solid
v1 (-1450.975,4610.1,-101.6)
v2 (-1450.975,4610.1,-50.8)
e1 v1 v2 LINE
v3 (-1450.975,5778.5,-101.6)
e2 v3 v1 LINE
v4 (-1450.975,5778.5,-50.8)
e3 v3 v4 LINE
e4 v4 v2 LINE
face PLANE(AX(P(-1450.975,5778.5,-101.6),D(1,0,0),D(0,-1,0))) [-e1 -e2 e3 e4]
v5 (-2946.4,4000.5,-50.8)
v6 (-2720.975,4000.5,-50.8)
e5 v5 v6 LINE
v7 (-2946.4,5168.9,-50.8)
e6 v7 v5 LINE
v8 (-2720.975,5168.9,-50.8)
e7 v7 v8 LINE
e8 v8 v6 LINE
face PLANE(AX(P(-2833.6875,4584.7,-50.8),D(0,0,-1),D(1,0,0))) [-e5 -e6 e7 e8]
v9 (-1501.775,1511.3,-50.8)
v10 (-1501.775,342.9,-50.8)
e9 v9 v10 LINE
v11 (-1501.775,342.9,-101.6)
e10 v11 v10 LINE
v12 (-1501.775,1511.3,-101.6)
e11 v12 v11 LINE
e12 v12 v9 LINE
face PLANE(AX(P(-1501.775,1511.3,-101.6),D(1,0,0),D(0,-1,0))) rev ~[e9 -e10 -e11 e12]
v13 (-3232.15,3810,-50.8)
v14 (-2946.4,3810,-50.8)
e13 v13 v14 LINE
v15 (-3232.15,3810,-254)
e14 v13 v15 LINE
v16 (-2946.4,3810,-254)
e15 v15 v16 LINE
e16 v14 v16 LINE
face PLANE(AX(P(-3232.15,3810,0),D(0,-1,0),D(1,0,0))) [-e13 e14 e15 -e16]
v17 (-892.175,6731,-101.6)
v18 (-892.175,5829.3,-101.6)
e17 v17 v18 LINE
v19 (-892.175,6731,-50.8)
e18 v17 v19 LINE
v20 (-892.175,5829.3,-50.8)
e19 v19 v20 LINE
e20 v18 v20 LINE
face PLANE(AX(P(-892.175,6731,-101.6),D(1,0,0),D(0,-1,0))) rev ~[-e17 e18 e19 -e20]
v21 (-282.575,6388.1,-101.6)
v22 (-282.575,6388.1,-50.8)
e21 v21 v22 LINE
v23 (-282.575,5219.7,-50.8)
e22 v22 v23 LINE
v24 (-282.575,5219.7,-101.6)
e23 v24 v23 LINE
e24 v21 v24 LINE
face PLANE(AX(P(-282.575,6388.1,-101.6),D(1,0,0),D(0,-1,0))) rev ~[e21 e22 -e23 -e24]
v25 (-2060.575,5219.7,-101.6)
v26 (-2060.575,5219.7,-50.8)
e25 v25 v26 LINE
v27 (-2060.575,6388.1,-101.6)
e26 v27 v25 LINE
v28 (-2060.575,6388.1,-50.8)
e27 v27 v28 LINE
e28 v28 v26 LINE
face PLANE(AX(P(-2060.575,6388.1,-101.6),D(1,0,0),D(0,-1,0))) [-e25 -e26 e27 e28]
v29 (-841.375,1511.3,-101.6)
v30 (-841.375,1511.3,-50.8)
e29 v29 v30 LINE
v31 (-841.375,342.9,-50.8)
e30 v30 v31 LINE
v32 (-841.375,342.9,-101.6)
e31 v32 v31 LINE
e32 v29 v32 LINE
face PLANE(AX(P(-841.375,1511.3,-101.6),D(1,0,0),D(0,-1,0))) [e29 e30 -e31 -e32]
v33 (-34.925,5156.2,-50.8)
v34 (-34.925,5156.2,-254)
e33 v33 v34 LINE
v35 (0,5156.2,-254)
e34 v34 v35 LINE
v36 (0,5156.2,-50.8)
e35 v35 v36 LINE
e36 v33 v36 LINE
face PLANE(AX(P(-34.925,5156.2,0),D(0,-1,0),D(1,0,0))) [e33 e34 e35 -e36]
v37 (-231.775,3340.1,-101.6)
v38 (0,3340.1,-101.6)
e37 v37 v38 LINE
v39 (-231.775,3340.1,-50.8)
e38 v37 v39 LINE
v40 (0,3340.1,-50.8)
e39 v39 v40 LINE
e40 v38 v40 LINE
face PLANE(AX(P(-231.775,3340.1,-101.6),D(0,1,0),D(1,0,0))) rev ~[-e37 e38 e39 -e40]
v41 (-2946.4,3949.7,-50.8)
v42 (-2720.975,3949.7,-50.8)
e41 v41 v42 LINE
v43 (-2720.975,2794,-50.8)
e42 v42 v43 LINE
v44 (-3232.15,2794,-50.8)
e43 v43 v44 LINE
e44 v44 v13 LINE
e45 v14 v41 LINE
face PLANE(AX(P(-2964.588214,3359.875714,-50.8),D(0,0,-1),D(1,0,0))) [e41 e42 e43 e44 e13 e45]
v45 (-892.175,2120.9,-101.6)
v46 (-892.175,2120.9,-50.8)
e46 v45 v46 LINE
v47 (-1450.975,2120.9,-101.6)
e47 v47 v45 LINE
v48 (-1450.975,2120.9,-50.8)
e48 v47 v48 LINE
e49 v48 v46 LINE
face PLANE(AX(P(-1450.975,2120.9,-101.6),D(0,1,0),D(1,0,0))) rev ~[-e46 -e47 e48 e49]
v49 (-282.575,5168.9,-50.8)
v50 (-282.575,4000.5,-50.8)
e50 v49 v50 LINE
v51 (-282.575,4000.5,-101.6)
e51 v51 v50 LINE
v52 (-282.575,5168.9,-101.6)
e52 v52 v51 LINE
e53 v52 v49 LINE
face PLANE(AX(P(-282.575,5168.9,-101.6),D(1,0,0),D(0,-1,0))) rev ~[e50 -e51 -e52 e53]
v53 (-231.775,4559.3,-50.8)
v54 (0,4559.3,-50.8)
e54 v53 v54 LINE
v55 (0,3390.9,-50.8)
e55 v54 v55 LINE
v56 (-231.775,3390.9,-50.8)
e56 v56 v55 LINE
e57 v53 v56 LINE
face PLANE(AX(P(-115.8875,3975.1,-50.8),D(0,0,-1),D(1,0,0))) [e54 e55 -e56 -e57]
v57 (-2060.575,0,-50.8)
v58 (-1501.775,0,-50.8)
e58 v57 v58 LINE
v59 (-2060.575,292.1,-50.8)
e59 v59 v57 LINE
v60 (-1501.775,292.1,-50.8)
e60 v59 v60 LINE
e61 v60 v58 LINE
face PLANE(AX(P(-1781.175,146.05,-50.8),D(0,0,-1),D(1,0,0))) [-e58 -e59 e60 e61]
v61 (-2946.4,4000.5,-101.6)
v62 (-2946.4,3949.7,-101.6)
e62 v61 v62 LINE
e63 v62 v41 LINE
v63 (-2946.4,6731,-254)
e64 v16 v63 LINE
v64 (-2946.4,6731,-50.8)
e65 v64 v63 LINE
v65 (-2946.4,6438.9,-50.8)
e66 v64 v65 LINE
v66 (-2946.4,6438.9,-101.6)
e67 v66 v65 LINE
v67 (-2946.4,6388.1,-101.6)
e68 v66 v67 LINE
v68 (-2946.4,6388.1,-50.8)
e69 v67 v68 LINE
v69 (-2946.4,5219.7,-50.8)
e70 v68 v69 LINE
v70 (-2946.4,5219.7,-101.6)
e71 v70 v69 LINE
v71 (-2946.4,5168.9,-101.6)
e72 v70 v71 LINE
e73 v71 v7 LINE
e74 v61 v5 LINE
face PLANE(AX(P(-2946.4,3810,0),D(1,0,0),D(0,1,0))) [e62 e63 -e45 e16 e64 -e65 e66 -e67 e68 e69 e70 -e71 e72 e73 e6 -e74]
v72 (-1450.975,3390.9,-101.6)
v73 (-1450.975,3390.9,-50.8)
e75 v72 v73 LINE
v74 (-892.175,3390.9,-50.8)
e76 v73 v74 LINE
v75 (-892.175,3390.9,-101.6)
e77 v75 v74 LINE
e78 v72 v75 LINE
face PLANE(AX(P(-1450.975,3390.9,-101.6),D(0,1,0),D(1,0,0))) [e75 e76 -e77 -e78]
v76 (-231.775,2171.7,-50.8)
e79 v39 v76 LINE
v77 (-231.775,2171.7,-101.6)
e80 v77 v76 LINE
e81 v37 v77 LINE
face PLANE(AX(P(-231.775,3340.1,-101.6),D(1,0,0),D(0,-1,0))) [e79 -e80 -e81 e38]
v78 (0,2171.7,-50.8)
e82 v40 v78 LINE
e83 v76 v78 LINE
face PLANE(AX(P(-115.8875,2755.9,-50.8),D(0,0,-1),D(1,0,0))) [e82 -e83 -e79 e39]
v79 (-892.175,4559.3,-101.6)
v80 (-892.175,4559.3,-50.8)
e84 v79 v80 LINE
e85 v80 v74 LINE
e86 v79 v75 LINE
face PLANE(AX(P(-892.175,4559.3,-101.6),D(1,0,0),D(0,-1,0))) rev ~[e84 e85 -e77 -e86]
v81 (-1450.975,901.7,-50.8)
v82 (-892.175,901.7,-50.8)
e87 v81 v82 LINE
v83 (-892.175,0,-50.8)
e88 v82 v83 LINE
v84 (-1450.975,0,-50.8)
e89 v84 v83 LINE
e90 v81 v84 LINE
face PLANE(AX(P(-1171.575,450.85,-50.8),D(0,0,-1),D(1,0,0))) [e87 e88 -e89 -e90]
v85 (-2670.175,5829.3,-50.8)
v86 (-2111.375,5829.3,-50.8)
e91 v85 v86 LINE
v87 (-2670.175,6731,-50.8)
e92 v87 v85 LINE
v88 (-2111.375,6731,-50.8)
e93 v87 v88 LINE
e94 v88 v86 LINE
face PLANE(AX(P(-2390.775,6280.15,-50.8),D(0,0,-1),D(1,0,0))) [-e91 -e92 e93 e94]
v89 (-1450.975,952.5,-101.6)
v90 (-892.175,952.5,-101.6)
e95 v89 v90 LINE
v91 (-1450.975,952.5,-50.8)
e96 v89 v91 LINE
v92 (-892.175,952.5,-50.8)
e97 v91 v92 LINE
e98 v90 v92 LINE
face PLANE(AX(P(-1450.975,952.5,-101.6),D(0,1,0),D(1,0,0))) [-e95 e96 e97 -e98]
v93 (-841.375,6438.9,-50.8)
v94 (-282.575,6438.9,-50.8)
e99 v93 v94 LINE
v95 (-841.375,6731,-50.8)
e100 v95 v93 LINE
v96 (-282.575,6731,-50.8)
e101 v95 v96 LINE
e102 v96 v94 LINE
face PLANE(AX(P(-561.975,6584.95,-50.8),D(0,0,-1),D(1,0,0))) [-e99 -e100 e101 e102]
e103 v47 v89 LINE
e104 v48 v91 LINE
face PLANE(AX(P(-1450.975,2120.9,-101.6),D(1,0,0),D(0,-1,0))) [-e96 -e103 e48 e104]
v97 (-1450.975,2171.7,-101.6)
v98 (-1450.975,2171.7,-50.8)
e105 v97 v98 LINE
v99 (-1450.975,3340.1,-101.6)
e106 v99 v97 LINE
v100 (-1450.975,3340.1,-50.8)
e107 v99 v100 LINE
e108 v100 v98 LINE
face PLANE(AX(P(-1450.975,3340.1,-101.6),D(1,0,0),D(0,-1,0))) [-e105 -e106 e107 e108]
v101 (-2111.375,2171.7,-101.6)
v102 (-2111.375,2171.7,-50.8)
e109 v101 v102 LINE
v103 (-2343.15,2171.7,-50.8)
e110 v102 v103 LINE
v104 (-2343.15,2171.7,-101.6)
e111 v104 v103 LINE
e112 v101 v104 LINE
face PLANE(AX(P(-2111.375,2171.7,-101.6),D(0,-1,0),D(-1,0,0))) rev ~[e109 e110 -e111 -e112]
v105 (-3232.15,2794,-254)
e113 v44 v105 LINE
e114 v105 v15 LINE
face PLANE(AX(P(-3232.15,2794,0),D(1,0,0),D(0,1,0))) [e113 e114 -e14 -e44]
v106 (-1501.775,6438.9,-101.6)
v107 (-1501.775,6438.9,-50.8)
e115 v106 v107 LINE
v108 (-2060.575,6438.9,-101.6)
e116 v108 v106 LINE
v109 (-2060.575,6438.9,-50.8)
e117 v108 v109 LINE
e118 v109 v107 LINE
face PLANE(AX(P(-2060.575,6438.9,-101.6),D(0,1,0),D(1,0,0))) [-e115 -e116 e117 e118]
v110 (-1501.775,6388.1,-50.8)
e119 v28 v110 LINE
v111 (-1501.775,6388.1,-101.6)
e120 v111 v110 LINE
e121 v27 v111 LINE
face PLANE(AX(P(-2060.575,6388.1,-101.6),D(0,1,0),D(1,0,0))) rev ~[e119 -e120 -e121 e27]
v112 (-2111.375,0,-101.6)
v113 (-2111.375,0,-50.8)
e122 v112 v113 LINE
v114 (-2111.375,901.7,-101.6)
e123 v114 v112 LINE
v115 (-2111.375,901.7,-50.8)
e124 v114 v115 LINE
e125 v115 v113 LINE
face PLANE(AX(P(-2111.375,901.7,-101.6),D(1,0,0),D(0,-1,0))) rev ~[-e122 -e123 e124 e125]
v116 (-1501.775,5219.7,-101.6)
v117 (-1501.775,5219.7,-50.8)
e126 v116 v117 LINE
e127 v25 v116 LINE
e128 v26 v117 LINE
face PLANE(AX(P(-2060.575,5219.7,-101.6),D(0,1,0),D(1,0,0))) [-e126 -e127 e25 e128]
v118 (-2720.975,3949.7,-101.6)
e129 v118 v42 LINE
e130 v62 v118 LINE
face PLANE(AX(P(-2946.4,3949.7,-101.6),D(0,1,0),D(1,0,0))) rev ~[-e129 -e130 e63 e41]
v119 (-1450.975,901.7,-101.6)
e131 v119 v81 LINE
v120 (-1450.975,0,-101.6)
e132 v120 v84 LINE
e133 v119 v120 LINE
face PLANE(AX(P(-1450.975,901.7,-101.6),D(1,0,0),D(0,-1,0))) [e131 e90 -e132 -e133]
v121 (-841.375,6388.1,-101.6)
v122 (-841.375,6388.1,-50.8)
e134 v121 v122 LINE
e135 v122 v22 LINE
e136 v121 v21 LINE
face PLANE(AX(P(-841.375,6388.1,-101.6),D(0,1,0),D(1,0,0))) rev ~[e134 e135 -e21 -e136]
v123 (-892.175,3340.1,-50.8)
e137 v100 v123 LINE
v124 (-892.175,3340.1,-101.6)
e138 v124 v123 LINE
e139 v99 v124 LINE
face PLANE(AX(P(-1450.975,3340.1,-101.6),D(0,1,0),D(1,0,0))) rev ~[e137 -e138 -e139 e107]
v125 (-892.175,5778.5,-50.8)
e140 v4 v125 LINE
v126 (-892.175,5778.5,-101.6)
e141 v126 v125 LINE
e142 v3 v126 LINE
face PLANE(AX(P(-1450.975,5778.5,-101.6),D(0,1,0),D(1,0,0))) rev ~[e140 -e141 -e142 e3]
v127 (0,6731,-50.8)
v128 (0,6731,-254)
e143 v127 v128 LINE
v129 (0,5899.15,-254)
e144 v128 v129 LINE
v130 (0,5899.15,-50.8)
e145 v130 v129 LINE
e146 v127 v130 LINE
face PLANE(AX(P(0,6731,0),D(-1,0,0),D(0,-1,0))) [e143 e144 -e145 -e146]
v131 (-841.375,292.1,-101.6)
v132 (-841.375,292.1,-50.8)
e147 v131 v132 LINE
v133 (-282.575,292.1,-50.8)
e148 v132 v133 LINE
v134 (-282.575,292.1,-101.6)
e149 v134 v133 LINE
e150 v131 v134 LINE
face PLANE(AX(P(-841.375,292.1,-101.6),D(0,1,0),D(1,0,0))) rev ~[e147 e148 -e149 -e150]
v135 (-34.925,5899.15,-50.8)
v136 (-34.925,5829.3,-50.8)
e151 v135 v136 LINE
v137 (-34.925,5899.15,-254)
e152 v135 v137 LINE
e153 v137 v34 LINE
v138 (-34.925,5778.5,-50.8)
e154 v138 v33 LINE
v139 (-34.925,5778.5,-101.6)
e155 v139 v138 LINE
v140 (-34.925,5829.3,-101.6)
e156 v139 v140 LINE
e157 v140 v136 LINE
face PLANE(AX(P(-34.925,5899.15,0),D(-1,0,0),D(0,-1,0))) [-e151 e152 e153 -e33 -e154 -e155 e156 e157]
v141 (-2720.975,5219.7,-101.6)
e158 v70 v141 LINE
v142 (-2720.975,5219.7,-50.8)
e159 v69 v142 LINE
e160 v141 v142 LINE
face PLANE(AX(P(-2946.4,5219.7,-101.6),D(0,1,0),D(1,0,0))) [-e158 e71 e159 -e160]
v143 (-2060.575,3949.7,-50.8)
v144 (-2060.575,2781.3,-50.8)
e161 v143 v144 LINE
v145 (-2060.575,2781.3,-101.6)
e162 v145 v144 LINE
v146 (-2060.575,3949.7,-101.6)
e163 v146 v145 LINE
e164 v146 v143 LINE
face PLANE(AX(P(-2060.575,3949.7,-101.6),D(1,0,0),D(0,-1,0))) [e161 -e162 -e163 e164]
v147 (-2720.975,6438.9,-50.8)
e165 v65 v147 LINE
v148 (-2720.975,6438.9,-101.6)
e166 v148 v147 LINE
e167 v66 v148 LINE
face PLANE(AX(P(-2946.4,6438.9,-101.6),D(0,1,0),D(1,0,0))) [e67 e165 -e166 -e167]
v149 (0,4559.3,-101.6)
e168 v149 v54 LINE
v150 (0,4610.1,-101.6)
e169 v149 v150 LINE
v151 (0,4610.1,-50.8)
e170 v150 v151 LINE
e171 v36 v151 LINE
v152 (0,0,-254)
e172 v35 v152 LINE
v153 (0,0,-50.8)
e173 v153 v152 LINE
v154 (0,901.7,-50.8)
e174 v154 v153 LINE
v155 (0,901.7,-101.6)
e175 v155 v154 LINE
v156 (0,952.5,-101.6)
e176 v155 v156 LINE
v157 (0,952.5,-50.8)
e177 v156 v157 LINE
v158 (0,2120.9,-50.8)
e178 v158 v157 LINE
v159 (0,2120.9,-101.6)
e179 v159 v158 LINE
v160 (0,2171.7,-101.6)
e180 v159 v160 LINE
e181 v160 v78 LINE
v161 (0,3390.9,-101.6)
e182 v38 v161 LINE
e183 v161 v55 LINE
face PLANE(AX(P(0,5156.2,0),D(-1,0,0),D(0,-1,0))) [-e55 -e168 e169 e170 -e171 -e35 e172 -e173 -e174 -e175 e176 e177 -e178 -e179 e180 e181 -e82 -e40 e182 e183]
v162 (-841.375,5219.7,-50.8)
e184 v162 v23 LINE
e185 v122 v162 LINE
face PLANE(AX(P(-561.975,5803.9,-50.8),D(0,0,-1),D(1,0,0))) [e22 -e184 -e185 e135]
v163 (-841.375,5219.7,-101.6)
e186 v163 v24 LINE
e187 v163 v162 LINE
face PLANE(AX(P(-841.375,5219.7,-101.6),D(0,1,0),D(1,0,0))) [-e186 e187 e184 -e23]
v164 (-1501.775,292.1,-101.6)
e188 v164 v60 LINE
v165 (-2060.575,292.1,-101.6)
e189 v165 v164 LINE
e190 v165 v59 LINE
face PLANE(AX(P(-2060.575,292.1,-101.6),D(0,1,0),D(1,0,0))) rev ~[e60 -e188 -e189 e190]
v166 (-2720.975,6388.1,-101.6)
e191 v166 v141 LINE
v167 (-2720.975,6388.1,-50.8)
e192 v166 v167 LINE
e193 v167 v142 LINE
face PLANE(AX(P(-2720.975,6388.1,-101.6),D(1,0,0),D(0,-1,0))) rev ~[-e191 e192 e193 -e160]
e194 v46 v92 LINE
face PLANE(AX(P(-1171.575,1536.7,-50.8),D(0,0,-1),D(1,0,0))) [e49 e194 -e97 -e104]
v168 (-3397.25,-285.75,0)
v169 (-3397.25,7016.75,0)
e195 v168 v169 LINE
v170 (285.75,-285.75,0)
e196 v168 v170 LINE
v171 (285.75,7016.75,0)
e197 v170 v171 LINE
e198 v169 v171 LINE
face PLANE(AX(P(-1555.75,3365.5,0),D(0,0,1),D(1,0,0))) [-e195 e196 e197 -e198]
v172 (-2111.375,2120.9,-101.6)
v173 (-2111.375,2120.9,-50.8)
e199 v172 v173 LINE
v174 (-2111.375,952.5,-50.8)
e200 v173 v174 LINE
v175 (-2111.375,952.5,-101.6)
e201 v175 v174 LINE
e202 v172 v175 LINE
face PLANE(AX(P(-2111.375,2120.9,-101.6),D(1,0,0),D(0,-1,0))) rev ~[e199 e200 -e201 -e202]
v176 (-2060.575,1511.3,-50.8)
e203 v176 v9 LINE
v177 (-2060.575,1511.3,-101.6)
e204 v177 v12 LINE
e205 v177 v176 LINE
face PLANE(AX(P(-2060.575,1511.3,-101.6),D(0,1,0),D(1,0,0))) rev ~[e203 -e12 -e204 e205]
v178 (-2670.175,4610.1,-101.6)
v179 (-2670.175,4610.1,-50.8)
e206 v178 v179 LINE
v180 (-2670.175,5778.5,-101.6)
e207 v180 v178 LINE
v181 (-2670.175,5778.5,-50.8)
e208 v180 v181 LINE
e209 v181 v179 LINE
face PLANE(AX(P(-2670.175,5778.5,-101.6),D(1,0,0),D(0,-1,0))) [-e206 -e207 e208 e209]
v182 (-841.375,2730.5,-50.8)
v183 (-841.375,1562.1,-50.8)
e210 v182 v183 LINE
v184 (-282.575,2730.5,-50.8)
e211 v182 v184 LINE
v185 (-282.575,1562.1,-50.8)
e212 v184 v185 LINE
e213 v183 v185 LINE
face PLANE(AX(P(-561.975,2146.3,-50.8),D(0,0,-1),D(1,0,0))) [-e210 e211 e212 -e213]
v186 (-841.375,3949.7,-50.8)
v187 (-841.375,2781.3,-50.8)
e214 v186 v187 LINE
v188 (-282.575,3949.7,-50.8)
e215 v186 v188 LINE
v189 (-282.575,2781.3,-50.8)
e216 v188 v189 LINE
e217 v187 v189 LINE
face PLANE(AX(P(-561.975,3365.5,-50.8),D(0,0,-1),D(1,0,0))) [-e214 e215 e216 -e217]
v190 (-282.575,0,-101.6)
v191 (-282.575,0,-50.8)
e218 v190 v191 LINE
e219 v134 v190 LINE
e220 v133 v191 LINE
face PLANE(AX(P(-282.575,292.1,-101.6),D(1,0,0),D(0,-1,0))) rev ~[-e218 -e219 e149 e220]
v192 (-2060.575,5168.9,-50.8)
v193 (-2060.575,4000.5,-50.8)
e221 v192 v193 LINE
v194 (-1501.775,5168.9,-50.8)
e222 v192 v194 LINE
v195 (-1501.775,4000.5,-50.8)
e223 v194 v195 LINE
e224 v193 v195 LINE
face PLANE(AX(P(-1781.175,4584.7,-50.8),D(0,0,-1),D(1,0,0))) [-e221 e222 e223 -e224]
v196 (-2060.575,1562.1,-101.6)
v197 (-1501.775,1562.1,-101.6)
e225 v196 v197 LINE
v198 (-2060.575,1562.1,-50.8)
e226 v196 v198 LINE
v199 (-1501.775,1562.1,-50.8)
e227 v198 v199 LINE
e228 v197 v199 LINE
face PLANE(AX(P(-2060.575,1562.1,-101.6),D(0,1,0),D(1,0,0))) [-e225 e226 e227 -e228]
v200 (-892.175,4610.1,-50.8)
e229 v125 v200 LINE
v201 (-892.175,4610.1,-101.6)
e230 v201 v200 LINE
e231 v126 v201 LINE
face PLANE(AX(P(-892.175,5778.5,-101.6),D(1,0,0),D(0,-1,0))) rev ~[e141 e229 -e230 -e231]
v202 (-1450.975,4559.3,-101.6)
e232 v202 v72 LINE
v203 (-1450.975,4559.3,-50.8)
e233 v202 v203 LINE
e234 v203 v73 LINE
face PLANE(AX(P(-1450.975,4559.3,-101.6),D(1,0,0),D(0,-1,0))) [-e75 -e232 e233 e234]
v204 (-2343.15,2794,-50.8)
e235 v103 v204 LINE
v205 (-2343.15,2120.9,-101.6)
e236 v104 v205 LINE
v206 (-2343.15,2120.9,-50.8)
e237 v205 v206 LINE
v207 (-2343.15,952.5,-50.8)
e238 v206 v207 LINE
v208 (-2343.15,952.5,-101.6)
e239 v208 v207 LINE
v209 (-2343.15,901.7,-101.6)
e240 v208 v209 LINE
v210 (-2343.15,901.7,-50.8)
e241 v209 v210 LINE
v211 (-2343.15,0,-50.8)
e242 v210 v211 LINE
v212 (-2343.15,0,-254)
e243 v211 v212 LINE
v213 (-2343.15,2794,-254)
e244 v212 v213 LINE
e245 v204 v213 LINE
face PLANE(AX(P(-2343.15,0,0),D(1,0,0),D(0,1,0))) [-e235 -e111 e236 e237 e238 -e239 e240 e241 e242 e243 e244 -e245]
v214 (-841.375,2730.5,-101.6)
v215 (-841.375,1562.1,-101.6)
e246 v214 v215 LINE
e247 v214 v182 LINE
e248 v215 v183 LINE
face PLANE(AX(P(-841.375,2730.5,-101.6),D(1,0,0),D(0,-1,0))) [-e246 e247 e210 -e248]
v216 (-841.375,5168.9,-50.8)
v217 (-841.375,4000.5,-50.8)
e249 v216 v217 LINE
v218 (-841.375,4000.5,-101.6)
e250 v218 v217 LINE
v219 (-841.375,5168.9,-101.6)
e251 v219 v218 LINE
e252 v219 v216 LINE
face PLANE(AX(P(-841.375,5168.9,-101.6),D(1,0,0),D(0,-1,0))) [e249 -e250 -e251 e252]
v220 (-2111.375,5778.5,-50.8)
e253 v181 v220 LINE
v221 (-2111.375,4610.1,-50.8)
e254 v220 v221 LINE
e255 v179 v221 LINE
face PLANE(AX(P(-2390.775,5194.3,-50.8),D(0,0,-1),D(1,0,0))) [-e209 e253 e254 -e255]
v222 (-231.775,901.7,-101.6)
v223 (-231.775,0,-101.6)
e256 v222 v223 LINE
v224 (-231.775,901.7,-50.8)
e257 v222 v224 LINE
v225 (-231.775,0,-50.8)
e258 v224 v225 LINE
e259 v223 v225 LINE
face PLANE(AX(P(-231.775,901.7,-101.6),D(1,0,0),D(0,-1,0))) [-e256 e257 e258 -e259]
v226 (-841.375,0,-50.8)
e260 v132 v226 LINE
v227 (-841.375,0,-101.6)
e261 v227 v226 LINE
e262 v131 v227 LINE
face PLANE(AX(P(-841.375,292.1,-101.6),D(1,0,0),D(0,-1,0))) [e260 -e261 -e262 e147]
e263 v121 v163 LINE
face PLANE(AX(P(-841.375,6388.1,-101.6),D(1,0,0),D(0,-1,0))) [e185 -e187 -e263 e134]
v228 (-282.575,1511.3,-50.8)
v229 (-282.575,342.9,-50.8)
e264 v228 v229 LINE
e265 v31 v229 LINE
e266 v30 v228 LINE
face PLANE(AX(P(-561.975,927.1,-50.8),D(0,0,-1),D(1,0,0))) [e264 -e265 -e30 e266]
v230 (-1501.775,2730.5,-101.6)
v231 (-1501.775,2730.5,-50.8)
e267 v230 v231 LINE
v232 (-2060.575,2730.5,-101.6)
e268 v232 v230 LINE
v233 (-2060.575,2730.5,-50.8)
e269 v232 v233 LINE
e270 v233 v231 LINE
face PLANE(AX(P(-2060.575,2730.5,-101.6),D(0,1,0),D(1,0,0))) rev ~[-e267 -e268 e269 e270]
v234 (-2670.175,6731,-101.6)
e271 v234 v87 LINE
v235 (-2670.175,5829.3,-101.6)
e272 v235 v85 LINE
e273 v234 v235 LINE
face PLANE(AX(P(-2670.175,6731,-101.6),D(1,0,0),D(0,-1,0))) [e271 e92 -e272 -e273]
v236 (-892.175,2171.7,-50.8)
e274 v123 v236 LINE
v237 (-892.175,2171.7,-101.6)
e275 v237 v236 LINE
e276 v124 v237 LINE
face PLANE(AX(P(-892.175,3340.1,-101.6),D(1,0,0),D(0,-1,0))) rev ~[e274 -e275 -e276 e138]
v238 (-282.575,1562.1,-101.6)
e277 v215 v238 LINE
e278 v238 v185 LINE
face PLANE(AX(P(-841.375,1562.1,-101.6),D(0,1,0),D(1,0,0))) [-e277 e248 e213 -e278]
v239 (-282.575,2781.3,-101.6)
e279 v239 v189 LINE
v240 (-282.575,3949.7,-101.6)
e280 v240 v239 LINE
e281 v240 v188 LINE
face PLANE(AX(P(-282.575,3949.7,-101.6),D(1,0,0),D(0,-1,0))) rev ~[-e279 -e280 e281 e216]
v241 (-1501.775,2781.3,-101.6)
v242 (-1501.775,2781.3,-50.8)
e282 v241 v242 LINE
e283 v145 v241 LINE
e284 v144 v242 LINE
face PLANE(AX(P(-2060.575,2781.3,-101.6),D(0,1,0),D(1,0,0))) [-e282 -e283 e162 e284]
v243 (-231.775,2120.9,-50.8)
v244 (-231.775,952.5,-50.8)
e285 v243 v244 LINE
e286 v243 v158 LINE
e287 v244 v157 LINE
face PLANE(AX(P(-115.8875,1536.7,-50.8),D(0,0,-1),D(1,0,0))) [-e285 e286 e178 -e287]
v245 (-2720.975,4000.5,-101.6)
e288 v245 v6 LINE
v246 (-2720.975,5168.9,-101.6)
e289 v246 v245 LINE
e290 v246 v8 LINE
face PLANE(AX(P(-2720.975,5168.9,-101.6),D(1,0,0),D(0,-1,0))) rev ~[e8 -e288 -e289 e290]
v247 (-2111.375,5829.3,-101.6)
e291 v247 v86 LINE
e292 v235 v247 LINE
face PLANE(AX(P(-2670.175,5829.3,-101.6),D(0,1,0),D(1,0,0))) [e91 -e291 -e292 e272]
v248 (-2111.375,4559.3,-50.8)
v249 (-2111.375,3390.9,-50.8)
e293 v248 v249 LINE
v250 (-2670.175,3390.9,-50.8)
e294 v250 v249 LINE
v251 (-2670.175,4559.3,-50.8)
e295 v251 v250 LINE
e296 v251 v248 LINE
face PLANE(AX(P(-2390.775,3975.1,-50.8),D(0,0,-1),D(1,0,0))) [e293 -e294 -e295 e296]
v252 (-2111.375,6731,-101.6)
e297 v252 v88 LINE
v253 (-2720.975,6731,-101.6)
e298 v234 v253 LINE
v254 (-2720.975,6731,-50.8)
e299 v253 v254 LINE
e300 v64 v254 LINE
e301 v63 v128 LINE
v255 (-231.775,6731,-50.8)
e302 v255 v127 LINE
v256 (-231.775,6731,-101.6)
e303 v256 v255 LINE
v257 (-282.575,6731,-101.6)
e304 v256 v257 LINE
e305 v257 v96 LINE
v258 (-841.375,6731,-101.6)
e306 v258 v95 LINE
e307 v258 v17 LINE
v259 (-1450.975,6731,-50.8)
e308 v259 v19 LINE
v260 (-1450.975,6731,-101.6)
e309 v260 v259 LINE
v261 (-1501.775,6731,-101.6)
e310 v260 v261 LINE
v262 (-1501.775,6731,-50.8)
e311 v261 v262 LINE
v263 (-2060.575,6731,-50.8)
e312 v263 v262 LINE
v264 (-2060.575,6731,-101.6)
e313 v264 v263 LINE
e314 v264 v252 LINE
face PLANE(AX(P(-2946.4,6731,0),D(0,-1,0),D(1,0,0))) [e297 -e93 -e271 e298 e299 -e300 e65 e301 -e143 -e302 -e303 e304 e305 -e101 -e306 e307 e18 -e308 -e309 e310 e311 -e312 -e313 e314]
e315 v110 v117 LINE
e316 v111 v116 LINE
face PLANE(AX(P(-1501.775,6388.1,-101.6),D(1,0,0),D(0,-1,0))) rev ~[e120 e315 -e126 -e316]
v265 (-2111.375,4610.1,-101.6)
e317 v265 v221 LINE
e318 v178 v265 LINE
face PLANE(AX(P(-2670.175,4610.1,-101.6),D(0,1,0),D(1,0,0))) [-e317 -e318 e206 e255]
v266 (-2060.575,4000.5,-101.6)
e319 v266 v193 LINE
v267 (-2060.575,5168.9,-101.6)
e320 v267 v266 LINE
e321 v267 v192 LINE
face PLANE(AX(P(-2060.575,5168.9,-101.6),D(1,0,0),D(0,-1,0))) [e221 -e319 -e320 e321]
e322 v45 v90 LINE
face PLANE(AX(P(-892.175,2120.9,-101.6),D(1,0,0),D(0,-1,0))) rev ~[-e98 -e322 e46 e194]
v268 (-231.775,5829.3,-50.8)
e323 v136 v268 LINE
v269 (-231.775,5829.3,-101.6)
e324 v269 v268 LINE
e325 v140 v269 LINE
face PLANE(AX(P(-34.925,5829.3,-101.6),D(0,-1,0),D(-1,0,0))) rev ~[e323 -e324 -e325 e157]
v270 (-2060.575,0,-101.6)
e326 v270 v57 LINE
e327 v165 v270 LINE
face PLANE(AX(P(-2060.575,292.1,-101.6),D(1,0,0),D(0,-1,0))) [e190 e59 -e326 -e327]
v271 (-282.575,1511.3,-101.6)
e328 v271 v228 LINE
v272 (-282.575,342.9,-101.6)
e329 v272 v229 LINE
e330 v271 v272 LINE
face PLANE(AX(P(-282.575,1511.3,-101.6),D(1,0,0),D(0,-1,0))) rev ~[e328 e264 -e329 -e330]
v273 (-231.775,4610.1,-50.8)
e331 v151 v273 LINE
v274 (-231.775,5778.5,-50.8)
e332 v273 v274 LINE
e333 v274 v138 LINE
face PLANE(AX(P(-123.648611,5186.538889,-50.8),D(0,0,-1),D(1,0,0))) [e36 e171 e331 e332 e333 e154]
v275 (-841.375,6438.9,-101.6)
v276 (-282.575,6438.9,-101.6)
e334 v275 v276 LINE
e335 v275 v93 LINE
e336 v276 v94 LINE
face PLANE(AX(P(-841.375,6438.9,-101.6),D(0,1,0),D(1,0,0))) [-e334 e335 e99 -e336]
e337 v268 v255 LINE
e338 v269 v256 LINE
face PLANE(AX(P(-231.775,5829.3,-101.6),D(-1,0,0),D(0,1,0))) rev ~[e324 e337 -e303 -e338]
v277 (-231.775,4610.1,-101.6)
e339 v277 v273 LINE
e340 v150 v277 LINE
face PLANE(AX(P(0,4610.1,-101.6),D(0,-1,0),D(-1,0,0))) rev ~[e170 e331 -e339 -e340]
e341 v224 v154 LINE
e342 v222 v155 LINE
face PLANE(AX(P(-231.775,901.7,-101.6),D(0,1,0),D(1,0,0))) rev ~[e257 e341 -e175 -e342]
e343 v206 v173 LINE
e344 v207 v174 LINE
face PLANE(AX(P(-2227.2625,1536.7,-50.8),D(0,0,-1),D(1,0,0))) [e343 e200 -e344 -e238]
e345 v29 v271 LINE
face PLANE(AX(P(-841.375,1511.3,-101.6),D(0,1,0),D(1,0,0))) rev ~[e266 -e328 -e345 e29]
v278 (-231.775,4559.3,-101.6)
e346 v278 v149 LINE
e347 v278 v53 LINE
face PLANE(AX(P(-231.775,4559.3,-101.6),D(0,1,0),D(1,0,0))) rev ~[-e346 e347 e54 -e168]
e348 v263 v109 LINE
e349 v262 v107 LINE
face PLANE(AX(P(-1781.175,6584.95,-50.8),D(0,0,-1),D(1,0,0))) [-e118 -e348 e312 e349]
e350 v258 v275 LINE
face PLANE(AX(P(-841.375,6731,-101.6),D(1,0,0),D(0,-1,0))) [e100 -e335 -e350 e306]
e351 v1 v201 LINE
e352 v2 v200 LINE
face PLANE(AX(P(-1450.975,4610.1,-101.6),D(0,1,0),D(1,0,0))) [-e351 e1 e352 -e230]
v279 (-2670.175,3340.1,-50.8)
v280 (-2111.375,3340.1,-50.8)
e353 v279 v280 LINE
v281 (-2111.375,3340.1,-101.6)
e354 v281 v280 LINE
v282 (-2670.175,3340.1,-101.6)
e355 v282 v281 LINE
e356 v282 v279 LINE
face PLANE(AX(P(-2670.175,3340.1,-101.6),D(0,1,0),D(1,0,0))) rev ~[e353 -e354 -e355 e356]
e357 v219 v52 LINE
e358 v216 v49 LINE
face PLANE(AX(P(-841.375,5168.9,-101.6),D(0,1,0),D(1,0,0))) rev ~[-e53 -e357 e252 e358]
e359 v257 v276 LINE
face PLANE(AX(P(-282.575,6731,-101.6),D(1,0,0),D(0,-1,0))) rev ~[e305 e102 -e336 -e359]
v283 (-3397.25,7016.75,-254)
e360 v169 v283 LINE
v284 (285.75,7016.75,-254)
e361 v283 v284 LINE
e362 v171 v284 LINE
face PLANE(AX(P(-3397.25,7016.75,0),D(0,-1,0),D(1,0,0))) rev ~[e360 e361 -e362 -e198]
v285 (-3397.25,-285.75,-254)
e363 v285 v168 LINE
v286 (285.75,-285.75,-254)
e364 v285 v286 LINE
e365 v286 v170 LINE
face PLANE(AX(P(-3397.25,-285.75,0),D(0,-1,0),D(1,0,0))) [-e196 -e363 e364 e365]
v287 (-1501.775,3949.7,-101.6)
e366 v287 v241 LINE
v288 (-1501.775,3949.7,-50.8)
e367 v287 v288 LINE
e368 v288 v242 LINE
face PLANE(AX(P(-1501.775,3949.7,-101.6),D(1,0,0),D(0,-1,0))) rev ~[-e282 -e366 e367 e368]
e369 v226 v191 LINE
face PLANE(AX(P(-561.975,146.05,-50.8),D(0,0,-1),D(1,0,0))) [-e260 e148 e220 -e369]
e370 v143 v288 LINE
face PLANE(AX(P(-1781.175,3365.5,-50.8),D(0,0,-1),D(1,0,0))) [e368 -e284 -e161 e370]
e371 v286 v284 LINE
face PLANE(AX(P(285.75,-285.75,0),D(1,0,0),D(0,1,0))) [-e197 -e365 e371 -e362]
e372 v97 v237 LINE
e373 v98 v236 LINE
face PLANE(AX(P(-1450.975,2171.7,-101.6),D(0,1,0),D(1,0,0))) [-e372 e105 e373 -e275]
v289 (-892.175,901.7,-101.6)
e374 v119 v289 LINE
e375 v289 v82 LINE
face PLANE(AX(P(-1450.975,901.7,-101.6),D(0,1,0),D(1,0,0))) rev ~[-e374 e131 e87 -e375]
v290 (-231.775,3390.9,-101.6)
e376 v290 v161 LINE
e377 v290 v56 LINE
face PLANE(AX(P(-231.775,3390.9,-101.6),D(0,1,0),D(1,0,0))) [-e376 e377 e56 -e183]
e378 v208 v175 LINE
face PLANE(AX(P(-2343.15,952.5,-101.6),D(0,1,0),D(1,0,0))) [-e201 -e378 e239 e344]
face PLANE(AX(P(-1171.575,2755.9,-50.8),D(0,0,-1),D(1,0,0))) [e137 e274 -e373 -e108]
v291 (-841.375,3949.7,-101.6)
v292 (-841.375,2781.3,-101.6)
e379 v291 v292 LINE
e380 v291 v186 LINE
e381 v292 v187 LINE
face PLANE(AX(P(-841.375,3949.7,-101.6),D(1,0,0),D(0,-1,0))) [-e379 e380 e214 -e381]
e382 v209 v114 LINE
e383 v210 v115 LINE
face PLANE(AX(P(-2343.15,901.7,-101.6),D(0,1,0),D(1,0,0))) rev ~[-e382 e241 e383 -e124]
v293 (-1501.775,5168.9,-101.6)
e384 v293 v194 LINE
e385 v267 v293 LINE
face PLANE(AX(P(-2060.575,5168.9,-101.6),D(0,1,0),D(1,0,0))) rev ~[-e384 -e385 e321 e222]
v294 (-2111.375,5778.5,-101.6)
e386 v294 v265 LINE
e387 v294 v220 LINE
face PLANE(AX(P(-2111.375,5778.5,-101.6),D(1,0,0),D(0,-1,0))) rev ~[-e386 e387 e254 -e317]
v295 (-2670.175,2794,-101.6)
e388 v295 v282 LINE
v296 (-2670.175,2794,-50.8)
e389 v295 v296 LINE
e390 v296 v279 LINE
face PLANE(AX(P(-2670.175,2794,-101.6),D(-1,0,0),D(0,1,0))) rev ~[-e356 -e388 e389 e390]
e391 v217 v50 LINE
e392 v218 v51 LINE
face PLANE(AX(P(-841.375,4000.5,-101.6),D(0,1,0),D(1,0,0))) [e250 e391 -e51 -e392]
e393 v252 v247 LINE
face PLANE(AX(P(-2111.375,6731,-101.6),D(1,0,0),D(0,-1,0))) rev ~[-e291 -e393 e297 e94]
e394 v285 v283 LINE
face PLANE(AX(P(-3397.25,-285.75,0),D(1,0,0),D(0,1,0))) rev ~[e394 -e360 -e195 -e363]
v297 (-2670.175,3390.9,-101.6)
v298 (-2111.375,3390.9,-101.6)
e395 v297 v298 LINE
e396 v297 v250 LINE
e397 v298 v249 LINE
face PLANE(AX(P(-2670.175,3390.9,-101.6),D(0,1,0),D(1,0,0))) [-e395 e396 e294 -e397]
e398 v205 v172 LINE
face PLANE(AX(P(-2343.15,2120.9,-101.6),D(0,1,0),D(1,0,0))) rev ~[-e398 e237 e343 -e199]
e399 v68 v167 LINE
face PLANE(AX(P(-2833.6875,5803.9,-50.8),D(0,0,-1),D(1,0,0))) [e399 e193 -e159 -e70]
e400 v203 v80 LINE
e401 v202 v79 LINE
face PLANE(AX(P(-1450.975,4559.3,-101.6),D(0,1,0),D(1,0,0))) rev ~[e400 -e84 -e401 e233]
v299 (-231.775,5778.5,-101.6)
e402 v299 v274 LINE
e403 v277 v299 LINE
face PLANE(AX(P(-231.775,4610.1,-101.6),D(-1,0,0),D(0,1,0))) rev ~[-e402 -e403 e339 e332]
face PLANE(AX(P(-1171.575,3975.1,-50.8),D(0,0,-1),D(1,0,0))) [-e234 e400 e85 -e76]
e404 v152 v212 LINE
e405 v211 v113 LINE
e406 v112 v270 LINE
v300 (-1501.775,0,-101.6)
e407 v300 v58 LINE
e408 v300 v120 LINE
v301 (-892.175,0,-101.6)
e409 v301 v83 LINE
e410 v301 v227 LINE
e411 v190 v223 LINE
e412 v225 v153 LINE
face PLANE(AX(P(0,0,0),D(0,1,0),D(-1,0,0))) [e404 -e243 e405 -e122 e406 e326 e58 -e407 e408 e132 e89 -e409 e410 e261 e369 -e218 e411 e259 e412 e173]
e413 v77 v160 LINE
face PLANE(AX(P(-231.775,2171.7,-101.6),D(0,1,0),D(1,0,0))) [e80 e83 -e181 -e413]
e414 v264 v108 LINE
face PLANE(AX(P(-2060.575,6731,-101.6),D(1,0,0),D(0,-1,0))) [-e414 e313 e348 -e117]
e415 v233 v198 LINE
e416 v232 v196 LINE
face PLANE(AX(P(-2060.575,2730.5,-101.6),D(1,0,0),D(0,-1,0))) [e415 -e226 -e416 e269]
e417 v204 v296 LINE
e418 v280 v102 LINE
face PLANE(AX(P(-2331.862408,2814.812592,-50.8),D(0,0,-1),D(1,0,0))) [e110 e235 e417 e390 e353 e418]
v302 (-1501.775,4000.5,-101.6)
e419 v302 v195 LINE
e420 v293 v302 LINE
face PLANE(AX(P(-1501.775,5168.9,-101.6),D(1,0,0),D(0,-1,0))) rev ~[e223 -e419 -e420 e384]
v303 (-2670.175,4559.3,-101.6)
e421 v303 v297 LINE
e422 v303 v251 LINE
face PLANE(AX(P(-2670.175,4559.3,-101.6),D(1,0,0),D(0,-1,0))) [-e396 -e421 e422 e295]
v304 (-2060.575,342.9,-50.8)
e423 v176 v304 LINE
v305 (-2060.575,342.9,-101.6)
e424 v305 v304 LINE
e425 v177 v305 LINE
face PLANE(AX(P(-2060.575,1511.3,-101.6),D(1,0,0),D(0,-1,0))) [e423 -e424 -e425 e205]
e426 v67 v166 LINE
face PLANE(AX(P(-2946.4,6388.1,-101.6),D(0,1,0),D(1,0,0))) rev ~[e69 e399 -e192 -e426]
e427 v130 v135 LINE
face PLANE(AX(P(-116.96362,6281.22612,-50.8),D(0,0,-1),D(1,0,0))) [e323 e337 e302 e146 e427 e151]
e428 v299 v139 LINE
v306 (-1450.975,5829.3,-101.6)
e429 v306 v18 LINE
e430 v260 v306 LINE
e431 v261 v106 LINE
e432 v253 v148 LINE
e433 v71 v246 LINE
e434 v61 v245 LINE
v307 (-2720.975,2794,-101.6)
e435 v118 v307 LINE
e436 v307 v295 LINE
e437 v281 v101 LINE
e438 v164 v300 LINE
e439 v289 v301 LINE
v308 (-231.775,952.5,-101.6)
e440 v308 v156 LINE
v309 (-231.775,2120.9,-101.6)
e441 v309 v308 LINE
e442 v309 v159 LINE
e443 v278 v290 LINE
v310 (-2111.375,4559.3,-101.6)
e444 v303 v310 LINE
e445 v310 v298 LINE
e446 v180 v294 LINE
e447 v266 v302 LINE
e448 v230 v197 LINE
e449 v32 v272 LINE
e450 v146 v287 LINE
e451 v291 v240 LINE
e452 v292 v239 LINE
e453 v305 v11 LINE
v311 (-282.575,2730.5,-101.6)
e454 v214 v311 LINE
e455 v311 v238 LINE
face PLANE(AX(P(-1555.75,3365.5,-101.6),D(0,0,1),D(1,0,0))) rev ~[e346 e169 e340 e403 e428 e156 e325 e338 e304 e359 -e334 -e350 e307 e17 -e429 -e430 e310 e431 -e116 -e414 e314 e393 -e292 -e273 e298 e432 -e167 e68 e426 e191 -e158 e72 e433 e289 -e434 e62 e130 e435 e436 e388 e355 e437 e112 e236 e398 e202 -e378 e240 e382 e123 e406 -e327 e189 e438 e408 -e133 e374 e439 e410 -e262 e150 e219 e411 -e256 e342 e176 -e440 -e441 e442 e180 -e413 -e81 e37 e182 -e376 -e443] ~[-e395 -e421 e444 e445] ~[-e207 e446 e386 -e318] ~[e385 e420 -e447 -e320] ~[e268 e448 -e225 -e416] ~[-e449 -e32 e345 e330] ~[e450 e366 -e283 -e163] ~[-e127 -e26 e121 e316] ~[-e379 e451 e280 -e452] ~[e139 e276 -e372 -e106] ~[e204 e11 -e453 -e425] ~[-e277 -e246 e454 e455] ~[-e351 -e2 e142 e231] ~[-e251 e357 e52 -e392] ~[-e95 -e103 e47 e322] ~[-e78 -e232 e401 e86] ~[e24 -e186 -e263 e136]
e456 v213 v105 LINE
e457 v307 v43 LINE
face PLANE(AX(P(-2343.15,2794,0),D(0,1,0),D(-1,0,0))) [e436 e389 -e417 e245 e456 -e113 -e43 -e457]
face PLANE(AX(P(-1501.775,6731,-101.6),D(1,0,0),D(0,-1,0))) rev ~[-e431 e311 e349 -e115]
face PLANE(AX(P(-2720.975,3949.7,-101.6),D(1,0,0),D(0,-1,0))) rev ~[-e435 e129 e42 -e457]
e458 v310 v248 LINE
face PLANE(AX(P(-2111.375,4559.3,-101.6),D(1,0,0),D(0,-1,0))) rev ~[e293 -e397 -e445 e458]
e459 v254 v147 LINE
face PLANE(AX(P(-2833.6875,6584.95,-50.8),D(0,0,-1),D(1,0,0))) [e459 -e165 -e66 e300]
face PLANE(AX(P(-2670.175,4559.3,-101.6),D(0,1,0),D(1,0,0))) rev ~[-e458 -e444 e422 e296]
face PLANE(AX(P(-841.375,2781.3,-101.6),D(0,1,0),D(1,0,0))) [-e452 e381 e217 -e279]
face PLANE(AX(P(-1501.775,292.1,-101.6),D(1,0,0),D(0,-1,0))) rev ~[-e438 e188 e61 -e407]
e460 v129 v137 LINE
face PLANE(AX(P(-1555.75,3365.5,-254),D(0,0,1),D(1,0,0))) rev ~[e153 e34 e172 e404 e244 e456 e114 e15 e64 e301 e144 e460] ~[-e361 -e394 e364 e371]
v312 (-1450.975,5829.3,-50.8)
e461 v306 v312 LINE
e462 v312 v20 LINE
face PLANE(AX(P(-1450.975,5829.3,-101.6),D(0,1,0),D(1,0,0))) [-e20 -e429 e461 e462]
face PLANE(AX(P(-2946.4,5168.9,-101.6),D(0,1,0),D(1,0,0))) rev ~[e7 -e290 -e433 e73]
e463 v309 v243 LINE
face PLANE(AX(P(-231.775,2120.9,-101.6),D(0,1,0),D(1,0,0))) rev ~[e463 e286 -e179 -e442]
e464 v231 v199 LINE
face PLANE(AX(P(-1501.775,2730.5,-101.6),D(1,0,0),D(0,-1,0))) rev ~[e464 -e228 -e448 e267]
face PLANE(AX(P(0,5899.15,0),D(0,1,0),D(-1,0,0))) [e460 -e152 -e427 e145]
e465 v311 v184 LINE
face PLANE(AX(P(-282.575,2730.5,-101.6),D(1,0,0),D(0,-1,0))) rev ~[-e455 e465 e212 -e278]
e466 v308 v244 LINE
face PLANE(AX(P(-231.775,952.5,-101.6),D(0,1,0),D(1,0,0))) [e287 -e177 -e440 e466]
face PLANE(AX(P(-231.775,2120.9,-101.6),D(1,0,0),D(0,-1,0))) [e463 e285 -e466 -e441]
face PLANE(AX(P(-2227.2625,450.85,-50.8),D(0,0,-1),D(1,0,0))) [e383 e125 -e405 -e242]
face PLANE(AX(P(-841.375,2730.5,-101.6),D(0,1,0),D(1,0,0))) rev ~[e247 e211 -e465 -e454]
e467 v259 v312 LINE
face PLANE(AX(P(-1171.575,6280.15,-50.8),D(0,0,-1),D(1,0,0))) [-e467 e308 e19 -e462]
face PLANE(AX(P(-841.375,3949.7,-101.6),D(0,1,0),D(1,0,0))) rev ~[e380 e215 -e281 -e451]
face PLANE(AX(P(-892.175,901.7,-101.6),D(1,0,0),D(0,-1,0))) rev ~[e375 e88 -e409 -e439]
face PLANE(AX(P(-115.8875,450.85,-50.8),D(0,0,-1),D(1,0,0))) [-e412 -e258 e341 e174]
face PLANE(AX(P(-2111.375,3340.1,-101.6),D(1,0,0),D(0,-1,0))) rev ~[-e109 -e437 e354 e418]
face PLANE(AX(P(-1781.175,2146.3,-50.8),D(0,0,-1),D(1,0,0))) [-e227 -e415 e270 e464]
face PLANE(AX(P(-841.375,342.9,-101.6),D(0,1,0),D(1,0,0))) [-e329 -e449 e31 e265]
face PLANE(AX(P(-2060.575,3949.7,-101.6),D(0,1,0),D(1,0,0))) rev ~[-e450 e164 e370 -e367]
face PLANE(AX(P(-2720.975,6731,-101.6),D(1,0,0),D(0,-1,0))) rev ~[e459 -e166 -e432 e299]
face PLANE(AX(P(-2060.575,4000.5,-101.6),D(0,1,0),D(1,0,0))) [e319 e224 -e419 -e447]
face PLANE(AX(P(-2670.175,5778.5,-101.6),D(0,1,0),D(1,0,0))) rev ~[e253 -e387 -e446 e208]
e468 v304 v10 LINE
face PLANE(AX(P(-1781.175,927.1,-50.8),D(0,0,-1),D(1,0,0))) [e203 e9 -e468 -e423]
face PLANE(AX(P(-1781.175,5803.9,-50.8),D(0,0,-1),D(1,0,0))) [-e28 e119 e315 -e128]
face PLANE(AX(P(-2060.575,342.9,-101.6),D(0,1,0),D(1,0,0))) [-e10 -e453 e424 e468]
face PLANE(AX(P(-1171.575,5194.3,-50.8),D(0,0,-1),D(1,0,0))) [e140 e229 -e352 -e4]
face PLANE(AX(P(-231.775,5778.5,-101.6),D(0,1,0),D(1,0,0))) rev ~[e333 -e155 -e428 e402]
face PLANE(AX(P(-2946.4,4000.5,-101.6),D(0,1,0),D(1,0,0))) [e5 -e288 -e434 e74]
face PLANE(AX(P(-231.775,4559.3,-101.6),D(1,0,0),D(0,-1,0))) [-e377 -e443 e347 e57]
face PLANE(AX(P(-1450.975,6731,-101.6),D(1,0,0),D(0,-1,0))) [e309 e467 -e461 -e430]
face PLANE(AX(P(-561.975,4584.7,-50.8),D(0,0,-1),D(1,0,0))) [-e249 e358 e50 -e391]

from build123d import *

# Parameters (mm, degrees)
F0_W     = 3683
F0_H     = 7302.5
F1_DEPTH = 254
F2_DEPTH = 101.6
F3_W     = 225.425
F3_H     = 1168.4
F3_H_2   = 292.1
F3_W_2   = 558.8
F3_H_3   = 901.7
F3_W_3   = 231.775
F4_DEPTH = 50.8


with BuildPart() as f1:
    # F0 (on Top) → F1 (new body)
    with BuildSketch(Plane.XY):
        with Locations((-1555.75, 3365.5)):
            Rectangle(F0_W, F0_H)
        Polygon((0, 5156.2), (0, 0), (-2343.15, 0), (-2343.15, 2794), (-3232.15, 2794), (-3232.15, 3810), (-2946.4, 3810), (-2946.4, 6731), (0, 6731), (0, 5899.15), (-34.925, 5899.15), (-34.925, 5156.2), align=None, mode=Mode.SUBTRACT)
    extrude(amount=-F1_DEPTH)

    # F0 (on Top) → F2 (join)
    with BuildSketch(Plane.XY):
        with Locations((-1555.75, 3365.5)):
            Rectangle(F0_W, F0_H)
        Polygon((0, 5156.2), (0, 0), (-2343.15, 0), (-2343.15, 2794), (-3232.15, 2794), (-3232.15, 3810), (-2946.4, 3810), (-2946.4, 6731), (0, 6731), (0, 5899.15), (-34.925, 5899.15), (-34.925, 5156.2), align=None, mode=Mode.SUBTRACT)
        Polygon((-2343.15, 0), (0, 0), (0, 5156.2), (-34.925, 5156.2), (-34.925, 5899.15), (0, 5899.15), (0, 6731), (-2946.4, 6731), (-2946.4, 3810), (-3232.15, 3810), (-3232.15, 2794), (-2343.15, 2794), align=None)
    extrude(amount=-F2_DEPTH)

    # F3 (on face) → F4 (cut)
    with BuildSketch(Plane(origin=(0, 0, -101.6), x_dir=(1, 0, 0), z_dir=(0, 0, -1))):
        Polygon((-2720.975, -3949.7), (-2720.975, -2794), (-3232.15, -2794), (-3232.15, -3810), (-2946.4, -3810), (-2946.4, -3949.7), align=None)
        with Locations((-2833.6875, -4584.7)):
            Rectangle(F3_W, F3_H)
        with Locations((-2833.6875, -5803.9)):
            Rectangle(F3_W, F3_H)
        with Locations((-2833.6875, -6584.95)):
            Rectangle(F3_W, F3_H_2)
        with Locations((-2390.775, -6280.15)):
            Rectangle(F3_W_2, F3_H_3)
        with Locations((-2390.775, -5194.3)):
            Rectangle(F3_W_2, F3_H)
        with Locations((-2390.775, -3975.1)):
            Rectangle(F3_W_2, F3_H)
        Polygon((-2111.375, -2171.7), (-2343.15, -2171.7), (-2343.15, -2794), (-2670.175, -2794), (-2670.175, -3340.1), (-2111.375, -3340.1), align=None)
        with Locations((-2227.2625, -1536.7)):
            Rectangle(F3_W_3, F3_H)
        with Locations((-2227.2625, -450.85)):
            Rectangle(F3_W_3, F3_H_3)
        with Locations((-1781.175, -146.05)):
            Rectangle(F3_W_2, F3_H_2)
        with Locations((-1781.175, -927.1)):
            Rectangle(F3_W_2, F3_H)
        with Locations((-1781.175, -2146.3)):
            Rectangle(F3_W_2, F3_H)
        with Locations((-1781.175, -3365.5)):
            Rectangle(F3_W_2, F3_H)
        with Locations((-1781.175, -4584.7)):
            Rectangle(F3_W_2, F3_H)
        with Locations((-1781.175, -5803.9)):
            Rectangle(F3_W_2, F3_H)
        with Locations((-1781.175, -6584.95)):
            Rectangle(F3_W_2, F3_H_2)
        with Locations((-1171.575, -6280.15)):
            Rectangle(F3_W_2, F3_H_3)
        with Locations((-1171.575, -5194.3)):
            Rectangle(F3_W_2, F3_H)
        with Locations((-1171.575, -3975.1)):
            Rectangle(F3_W_2, F3_H)
        with Locations((-1171.575, -2755.9)):
            Rectangle(F3_W_2, F3_H)
        with Locations((-1171.575, -1536.7)):
            Rectangle(F3_W_2, F3_H)
        with Locations((-1171.575, -450.85)):
            Rectangle(F3_W_2, F3_H_3)
        with Locations((-561.975, -146.05)):
            Rectangle(F3_W_2, F3_H_2)
        with Locations((-561.975, -927.1)):
            Rectangle(F3_W_2, F3_H)
        with Locations((-561.975, -2146.3)):
            Rectangle(F3_W_2, F3_H)
        with Locations((-561.975, -3365.5)):
            Rectangle(F3_W_2, F3_H)
        with Locations((-561.975, -4584.7)):
            Rectangle(F3_W_2, F3_H)
        with Locations((-561.975, -5803.9)):
            Rectangle(F3_W_2, F3_H)
        with Locations((-561.975, -6584.95)):
            Rectangle(F3_W_2, F3_H_2)
        Polygon((-34.925, -5899.15), (-34.925, -5829.3), (-231.775, -5829.3), (-231.775, -6731), (0, -6731), (0, -5899.15), align=None)
        Polygon((0, -5156.2), (0, -4610.1), (-231.775, -4610.1), (-231.775, -5778.5), (-34.925, -5778.5), (-34.925, -5156.2), align=None)
        with Locations((-115.8875, -3975.1)):
            Rectangle(F3_W_3, F3_H)
        with Locations((-115.8875, -2755.9)):
            Rectangle(F3_W_3, F3_H)
        with Locations((-115.8875, -1536.7)):
            Rectangle(F3_W_3, F3_H)
        with Locations((-115.8875, -450.85)):
            Rectangle(F3_W_3, F3_H_3)
    extrude(amount=-F4_DEPTH, mode=Mode.SUBTRACT)


solid = f1.part
